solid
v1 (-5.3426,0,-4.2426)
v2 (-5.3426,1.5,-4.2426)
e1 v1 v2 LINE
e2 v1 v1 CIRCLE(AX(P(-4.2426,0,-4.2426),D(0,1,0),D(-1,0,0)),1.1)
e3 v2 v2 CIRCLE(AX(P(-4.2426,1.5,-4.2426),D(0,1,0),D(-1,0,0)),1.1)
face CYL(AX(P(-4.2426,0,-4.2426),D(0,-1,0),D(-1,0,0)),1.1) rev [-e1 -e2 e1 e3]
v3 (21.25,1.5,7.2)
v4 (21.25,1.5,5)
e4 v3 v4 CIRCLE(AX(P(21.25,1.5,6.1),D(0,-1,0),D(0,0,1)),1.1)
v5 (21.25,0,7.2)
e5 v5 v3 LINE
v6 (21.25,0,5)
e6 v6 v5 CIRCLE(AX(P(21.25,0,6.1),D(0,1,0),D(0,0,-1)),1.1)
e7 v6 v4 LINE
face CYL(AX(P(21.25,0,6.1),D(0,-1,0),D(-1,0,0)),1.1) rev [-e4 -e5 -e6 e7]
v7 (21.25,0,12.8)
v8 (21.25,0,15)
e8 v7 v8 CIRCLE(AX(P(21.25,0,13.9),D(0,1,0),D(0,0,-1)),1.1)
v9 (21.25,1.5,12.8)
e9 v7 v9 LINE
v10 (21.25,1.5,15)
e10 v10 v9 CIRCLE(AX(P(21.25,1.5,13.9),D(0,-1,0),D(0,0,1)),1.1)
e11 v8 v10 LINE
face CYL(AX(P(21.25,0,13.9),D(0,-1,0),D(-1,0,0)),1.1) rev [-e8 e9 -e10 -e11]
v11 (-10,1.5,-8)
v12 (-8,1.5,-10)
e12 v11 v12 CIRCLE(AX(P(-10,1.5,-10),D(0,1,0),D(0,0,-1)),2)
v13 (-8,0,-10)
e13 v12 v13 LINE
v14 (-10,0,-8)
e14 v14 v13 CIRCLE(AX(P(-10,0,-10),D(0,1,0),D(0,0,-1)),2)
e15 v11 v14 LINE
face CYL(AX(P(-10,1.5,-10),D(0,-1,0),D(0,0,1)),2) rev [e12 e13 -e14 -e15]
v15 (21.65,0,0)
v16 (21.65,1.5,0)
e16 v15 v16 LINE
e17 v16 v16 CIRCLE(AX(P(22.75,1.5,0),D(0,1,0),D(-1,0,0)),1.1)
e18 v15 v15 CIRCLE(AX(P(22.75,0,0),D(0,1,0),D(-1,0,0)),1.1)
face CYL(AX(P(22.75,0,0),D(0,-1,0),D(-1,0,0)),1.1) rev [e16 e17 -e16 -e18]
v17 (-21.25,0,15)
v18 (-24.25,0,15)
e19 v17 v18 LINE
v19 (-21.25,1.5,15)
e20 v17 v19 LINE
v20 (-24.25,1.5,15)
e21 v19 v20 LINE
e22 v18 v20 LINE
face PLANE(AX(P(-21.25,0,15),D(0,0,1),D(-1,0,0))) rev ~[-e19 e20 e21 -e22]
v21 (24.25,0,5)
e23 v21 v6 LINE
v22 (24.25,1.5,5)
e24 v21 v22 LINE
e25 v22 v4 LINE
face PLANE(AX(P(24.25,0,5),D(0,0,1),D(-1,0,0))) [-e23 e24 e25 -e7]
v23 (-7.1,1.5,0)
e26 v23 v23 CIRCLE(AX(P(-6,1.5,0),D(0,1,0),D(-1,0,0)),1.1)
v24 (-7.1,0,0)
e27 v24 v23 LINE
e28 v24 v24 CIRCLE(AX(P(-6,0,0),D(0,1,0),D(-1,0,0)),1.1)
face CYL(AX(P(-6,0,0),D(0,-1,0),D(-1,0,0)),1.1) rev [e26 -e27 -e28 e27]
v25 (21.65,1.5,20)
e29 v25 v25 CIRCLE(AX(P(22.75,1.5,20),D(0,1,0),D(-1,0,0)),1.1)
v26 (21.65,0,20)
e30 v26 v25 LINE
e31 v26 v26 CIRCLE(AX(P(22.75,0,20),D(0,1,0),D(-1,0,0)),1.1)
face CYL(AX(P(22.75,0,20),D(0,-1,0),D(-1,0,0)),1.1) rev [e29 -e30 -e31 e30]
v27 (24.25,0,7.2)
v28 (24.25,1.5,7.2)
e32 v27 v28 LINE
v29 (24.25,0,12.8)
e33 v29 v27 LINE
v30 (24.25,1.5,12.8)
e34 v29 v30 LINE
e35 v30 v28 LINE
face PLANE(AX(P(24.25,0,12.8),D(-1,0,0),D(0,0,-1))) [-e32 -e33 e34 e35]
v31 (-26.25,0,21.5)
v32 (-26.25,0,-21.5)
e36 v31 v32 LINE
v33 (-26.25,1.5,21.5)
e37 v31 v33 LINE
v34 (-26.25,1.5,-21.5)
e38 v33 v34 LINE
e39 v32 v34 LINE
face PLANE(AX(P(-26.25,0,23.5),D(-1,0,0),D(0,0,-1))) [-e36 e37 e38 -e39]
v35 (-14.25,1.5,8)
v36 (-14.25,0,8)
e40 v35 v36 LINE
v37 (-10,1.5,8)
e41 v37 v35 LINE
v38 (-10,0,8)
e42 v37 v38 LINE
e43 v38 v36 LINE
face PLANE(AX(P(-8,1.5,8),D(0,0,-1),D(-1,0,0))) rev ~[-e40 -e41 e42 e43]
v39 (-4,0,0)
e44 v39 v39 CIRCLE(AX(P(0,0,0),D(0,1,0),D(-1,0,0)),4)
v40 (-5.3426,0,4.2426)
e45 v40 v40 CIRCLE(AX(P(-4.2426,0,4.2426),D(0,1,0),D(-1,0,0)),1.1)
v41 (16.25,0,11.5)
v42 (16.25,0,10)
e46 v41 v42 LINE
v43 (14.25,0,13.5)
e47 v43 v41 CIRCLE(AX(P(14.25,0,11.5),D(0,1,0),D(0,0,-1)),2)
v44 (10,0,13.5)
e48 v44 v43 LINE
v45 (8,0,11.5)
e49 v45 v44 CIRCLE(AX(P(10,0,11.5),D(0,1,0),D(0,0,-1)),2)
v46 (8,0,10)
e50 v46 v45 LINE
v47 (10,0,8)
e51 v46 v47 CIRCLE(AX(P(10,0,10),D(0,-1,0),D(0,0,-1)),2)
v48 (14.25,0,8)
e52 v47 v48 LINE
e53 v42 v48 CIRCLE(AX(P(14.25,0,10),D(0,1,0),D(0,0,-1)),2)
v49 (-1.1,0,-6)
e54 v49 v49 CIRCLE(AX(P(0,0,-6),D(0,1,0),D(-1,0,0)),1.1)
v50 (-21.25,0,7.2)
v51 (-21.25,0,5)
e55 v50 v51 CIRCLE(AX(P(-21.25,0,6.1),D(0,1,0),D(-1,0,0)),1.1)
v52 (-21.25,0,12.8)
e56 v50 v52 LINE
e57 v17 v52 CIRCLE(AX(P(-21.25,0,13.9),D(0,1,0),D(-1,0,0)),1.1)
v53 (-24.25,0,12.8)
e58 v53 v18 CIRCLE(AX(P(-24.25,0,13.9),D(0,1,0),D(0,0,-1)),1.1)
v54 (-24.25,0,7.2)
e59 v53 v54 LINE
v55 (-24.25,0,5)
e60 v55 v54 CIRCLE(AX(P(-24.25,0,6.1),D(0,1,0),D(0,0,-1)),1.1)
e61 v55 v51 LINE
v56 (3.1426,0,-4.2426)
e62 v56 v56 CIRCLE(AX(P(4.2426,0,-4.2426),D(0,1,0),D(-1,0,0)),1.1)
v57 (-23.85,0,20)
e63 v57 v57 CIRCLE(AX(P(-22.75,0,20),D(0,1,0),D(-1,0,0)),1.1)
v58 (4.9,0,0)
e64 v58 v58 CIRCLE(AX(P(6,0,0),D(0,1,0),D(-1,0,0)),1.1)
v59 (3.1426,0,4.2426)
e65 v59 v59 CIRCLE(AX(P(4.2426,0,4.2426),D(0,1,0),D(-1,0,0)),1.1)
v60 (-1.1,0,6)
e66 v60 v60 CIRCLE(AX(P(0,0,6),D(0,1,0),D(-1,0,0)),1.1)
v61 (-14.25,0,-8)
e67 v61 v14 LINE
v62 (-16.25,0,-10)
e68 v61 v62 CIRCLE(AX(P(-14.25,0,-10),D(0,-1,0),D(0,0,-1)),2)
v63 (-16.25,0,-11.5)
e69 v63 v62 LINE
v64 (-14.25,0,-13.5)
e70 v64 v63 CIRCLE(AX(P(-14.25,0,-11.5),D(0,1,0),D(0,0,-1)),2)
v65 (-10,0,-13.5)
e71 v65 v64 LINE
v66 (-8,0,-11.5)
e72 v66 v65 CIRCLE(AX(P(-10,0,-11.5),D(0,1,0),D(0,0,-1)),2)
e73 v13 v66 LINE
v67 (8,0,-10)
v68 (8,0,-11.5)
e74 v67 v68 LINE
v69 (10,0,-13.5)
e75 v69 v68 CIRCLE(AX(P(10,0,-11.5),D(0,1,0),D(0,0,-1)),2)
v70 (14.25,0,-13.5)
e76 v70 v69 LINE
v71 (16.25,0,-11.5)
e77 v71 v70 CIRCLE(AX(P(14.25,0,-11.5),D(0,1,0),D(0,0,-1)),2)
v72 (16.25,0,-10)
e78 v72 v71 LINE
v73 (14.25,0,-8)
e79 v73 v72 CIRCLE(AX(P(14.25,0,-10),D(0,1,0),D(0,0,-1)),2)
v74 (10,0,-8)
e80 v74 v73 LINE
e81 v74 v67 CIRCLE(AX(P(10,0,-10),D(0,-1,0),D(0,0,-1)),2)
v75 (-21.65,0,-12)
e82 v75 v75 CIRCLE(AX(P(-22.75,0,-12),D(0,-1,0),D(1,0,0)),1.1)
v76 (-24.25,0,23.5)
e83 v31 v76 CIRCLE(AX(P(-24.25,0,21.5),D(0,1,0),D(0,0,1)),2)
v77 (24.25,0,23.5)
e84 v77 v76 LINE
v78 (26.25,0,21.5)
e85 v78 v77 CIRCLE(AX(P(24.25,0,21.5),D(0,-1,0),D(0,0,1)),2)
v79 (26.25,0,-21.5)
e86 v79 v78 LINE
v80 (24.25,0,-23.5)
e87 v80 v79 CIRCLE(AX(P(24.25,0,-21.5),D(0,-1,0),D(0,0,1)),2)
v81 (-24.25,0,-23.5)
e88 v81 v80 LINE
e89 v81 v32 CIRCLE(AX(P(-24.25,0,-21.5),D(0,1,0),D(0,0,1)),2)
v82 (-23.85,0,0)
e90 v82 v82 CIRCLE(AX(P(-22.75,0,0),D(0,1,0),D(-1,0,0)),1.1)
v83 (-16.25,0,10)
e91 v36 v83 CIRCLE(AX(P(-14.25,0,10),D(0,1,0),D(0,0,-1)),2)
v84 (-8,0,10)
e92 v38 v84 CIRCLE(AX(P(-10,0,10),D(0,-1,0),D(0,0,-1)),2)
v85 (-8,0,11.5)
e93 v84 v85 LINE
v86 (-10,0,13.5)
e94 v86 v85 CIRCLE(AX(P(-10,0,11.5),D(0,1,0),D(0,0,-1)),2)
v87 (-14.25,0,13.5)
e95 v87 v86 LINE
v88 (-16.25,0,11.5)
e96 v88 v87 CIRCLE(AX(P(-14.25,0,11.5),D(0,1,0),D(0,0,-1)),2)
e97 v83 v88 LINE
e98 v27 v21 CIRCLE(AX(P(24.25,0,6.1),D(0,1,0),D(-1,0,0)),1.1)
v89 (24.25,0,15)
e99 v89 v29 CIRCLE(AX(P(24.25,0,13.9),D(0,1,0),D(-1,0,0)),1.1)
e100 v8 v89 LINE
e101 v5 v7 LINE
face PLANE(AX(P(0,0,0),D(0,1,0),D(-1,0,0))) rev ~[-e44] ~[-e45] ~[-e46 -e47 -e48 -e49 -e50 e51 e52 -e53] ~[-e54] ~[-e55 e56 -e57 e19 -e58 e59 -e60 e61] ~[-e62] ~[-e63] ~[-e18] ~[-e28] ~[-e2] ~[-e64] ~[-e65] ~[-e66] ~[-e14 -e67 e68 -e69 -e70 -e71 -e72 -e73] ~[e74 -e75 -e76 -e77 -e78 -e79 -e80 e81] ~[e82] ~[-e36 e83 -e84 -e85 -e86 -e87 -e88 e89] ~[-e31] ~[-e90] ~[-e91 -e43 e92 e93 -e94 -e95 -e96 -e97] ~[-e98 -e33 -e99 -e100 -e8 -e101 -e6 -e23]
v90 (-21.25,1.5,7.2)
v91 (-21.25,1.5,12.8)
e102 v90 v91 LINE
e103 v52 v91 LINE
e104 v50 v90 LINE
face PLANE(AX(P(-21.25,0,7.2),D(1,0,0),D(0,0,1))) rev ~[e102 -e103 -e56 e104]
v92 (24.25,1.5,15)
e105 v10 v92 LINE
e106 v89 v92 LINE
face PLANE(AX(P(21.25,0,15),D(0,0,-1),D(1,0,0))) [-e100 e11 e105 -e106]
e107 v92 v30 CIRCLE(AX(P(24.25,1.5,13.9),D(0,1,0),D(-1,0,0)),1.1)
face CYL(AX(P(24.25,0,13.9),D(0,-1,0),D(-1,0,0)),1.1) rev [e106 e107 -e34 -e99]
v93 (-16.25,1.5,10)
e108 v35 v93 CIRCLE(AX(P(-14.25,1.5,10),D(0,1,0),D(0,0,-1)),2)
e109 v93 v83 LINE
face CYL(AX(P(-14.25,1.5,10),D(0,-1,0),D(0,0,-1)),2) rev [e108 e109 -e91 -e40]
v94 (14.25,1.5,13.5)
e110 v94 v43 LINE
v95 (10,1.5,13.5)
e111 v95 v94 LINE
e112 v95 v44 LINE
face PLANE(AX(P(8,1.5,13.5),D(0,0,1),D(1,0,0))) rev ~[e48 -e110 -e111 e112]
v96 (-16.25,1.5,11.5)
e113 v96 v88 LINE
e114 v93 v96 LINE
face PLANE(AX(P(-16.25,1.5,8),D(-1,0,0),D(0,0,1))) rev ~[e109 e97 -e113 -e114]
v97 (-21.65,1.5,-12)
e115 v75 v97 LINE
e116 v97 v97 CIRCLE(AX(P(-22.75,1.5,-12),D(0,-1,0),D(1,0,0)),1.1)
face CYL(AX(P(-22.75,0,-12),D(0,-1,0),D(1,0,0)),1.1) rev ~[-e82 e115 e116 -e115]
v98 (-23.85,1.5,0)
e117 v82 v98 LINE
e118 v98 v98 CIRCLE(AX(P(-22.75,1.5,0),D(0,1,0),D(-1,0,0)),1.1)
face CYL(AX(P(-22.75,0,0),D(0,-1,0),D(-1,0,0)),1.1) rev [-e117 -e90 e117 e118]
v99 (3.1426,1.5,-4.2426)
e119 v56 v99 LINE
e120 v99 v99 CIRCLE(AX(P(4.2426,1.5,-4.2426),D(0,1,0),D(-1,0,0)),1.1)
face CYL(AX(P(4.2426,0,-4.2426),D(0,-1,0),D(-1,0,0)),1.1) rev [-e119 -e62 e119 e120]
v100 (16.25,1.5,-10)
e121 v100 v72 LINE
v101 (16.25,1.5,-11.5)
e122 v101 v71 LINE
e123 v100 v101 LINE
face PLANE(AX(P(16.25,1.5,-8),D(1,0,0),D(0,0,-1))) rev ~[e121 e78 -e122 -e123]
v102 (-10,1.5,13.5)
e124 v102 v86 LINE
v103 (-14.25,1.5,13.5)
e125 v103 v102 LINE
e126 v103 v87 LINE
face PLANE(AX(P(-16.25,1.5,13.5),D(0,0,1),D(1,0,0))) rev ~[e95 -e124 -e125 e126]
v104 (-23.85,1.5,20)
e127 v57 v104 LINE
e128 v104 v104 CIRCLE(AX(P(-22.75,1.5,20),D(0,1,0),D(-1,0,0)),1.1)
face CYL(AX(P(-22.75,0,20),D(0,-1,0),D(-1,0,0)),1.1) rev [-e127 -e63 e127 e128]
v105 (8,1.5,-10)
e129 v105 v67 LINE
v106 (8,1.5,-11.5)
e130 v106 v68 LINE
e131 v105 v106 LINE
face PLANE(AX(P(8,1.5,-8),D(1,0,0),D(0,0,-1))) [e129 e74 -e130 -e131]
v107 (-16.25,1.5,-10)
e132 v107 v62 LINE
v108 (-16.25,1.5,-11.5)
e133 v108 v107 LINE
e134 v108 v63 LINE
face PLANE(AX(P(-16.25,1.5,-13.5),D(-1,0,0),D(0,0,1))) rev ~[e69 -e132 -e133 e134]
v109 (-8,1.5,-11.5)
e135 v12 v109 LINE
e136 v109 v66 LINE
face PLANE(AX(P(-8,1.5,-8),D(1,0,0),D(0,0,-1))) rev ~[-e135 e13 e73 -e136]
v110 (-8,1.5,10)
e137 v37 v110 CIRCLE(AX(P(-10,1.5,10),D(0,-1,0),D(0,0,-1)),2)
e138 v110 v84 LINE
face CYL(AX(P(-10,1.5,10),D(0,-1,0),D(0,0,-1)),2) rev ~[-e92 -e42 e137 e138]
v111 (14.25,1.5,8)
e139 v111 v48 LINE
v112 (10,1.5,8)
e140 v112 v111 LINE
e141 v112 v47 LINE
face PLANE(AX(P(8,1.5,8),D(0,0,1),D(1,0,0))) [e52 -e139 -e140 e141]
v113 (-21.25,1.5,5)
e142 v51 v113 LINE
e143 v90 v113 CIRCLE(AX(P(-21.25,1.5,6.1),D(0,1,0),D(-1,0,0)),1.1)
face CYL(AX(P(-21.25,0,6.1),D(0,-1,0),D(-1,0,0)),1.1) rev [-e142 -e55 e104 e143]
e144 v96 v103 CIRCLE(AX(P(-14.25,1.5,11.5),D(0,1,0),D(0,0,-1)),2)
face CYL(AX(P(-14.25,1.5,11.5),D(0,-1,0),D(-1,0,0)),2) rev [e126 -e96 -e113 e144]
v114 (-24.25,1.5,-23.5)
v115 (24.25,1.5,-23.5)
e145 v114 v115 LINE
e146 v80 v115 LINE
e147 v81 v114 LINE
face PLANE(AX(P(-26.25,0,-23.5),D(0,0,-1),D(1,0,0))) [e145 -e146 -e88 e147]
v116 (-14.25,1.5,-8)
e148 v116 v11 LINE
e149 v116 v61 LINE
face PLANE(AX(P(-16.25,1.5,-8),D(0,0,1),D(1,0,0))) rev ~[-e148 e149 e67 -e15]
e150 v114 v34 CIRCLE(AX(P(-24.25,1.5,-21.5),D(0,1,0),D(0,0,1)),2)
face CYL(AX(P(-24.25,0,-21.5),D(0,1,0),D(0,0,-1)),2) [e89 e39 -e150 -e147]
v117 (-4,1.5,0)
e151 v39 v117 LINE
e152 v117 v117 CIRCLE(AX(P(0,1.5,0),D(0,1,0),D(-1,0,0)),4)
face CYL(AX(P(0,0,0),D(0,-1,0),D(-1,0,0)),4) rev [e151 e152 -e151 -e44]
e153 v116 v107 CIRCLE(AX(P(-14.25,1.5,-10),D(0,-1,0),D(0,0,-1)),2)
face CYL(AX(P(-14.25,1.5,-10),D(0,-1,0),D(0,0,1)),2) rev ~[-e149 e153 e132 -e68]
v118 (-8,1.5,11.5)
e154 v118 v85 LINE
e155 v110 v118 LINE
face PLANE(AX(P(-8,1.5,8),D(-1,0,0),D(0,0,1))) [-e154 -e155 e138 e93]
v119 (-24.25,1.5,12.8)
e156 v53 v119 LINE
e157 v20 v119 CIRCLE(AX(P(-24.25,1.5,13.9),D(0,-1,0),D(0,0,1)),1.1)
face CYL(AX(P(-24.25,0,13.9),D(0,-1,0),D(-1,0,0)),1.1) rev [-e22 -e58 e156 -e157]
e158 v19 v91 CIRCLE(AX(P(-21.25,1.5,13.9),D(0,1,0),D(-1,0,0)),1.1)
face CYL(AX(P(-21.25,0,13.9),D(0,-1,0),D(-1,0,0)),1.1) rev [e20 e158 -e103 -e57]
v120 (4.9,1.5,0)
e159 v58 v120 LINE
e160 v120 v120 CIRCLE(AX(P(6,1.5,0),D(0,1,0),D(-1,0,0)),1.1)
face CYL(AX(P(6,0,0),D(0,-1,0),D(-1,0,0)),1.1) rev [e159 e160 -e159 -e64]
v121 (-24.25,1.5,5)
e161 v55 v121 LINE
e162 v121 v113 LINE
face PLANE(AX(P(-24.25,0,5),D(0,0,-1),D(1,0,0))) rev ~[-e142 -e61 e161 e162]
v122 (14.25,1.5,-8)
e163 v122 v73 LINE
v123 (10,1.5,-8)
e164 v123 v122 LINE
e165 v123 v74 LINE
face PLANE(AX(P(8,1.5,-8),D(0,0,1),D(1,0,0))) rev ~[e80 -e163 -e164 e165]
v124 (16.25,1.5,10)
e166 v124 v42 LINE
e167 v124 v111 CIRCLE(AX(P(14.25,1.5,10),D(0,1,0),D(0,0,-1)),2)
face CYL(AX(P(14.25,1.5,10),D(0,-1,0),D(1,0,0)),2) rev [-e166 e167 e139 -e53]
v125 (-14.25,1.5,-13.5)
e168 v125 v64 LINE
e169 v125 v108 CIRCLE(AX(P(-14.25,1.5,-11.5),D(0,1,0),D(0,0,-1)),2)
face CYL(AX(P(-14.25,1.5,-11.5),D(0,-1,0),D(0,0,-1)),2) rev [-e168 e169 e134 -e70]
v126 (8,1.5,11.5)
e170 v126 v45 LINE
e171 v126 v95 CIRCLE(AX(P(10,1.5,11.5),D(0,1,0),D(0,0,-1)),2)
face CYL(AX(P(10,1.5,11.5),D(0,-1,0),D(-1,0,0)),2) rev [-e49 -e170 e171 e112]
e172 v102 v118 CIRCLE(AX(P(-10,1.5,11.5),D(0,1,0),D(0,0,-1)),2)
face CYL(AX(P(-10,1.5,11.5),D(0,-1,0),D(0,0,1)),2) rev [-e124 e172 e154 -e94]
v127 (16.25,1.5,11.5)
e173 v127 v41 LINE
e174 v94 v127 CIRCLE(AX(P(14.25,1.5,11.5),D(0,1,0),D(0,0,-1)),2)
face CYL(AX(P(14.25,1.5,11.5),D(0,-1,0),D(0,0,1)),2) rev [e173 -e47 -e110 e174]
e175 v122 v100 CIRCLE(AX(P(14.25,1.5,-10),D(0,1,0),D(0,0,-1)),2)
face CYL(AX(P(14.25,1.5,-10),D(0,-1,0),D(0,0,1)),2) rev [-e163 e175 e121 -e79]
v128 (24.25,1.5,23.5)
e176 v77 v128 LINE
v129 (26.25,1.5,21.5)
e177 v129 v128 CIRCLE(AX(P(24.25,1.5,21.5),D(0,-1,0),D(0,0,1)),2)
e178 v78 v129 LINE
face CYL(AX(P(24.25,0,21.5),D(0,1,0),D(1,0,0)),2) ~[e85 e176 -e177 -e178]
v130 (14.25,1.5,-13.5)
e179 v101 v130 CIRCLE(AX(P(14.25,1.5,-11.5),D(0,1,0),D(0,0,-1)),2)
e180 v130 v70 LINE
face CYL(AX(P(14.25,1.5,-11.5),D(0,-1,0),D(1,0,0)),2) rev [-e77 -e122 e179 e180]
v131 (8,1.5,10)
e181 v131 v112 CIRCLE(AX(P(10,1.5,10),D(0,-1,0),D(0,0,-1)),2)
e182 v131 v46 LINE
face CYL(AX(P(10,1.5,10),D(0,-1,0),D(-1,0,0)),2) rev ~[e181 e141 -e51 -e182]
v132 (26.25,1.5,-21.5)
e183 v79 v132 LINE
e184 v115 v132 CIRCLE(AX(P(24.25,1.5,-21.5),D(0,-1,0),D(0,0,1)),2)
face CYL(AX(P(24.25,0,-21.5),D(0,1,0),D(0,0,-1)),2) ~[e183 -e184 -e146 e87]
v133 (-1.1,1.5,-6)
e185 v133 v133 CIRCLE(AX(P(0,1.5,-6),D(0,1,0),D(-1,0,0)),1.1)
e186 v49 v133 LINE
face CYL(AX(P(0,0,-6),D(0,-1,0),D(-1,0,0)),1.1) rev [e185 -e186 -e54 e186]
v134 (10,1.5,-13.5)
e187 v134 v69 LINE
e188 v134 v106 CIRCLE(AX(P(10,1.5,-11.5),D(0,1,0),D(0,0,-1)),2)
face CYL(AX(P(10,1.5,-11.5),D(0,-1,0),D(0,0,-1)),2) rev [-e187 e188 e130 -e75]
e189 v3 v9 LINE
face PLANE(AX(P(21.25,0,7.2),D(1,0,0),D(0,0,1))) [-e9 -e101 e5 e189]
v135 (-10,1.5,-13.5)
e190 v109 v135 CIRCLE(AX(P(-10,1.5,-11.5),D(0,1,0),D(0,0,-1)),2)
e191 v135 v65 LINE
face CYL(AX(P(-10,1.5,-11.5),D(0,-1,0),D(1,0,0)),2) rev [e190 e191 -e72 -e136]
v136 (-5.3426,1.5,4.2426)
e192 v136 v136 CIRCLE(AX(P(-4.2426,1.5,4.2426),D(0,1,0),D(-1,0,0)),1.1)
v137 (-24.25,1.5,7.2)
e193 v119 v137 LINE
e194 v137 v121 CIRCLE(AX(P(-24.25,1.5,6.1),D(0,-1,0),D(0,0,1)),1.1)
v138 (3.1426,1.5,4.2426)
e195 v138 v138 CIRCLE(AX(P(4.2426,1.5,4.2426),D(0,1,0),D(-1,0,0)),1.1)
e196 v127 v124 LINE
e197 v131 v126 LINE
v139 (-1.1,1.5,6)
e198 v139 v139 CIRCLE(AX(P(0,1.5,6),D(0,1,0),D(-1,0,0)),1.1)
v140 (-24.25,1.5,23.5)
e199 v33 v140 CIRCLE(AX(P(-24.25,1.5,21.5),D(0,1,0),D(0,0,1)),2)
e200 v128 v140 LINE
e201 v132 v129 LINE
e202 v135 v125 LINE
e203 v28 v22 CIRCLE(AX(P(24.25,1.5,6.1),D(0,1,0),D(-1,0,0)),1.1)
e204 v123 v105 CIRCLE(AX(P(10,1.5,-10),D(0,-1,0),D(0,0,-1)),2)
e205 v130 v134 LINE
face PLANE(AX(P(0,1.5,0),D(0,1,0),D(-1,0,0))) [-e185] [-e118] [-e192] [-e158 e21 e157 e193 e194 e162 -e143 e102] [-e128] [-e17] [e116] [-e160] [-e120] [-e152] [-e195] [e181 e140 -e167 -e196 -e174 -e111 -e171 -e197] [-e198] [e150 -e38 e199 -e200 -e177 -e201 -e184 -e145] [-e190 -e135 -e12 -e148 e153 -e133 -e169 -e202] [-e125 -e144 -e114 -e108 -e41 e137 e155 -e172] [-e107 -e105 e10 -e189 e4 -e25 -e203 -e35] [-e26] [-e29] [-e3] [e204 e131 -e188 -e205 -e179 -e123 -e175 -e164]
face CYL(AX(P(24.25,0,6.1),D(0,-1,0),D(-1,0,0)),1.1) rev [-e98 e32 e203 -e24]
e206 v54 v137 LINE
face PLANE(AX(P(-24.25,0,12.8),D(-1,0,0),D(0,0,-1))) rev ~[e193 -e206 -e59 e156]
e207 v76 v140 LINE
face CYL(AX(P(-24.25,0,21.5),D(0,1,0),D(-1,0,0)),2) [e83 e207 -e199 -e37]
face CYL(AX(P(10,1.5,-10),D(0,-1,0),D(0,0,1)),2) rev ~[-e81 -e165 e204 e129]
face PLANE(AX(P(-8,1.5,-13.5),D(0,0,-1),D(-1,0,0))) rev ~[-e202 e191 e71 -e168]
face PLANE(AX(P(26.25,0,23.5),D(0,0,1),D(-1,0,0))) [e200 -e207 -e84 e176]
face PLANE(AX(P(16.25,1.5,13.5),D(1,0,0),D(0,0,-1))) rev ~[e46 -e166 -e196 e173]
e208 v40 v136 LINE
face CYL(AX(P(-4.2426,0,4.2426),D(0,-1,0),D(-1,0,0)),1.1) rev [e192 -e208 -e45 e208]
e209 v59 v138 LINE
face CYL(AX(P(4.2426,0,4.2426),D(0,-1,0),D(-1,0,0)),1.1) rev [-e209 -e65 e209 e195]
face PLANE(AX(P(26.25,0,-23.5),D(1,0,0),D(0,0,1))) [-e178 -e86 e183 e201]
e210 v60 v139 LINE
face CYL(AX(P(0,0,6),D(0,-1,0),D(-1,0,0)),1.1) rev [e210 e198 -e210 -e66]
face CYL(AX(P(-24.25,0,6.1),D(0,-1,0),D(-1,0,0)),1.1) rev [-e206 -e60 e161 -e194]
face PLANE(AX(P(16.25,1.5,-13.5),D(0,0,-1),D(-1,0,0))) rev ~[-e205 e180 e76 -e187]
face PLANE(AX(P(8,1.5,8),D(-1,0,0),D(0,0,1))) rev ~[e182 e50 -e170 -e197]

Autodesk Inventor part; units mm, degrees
ref_plane "YZ Plane" through (0, 0, 0) normal (1, 0, 0) x (0, 1, 0)
ref_plane "XZ Plane" through (0, 0, 0) normal (0, 1, 0) x (-1, 0, 0)
ref_plane "XY Plane" through (0, 0, 0) normal (0, 0, 1) x (1, 0, 0)
sketch "スケッチ1" plane through (0, 0, 0) normal (0, 1, 0) x (-1, 0, 0)
  circle A0 centre (0, 0) radius 4
  circle A1 centre (0, 0) radius 8
  circle A2 centre (0, 0) radius 6 construction
  circle A3 centre (0, -6) radius 1.1
  circle A4 centre (4.2426, -4.2426) radius 1.1
  circle A5 centre (6, 0) radius 1.1
  circle A6 centre (4.2426, 4.2426) radius 1.1
  circle A7 centre (0, 6) radius 1.1
  circle A8 centre (-4.2426, 4.2426) radius 1.1
  circle A9 centre (-6, 0) radius 1.1
  circle A10 centre (-4.2426, -4.2426) radius 1.1
  line L0 (26.25, -23.5) -> (-26.25, -23.5)
  line L1 (-26.25, -23.5) -> (-26.25, 23.5)
  line L2 (-26.25, 23.5) -> (26.25, 23.5)
  line L3 (26.25, 23.5) -> (26.25, -23.5)
  line L4 (26.25, -23.5) -> (-26.25, 23.5) construction
  line L5 (-26.25, -23.5) -> (26.25, 23.5) construction
  line L6 (24.25, 5) -> (21.25, 5)
  line L7 (21.25, 5) -> (21.25, 15)
  line L8 (21.25, 15) -> (24.25, 15)
  line L9 (24.25, 15) -> (24.25, 5)
  circle A11 centre (24.25, 6.1) radius 1.1
  circle A12 centre (21.25, 6.1) radius 1.1
  line L10 (0, 0) -> (0, -23.5) construction
  circle A13 centre (24.25, 13.9) radius 1.1
  circle A14 centre (21.25, 13.9) radius 1.1
  line L11 (-24.25, 5) -> (-21.25, 5)
  line L12 (-21.25, 5) -> (-21.25, 15)
  line L13 (-21.25, 15) -> (-24.25, 15)
  line L14 (-24.25, 15) -> (-24.25, 5)
  circle A15 centre (-24.25, 6.1) radius 1.1
  circle A16 centre (-21.25, 6.1) radius 1.1
  circle A17 centre (-24.25, 13.9) radius 1.1
  circle A18 centre (-21.25, 13.9) radius 1.1
  circle A19 centre (22.75, 0) radius 1.1
  circle A20 centre (22.75, 20) radius 1.1
  circle A21 centre (-22.75, 0) radius 1.1
  circle A22 centre (-22.75, 20) radius 1.1
  circle A23 centre (22.75, 20) radius 3.5 construction
  point P0 (21.25, 10)
  point P1 (-21.25, 10)
  point P2 (22.75, 5)
  point P3 (-21.25, 12.8)
  point P4 (-21.25, 7.2)
  point P5 (-24.25, 7.2)
  point P6 (-24.25, 12.8)
  point P7 (-24.25, 15)
  point P8 (21.25, 12.8)
  point P9 (21.25, 15)
  point P10 (24.25, 15)
  point P11 (24.25, 12.8)
  point P12 (24.25, 7.2)
  point P13 (21.25, 7.2)
  point P14 (22.75, 15)
  dimension "d2" = 12
  dimension "d10" = 2.2
  dimension "d0" = 8
  dimension "d1" = 16
  dimension "d3" = 2.2
  dimension "d6" = 360
  dimension "d8" = 3
  dimension "d9" = 10
  dimension "d11" = 42.5
  dimension "d12" = 2.2
  dimension "d13" = 5
  dimension "d17" = 5
  dimension "d18" = 7
extrude "押し出し1" add sketch "スケッチ1" along normal blind 1.5 contours A1 | L0 L1 L2 L3
sketch "スケッチ2" plane through (0, 0, 0) normal (0, -1, 0) x (1, 0, 0)
  circle A0 centre (-22.75, -12) radius 1.1
  circle A1 centre (-22.75, 0) radius 1.1 projected
  point P0 (0, 0)
  dimension "d19" = 2.2
  dimension "d20" = 12
extrude "押し出し2" cut sketch "スケッチ2" against normal through all contours A0
fillet "フィレット1" radius 2 4 edges at (-26.25, 0.75, -23.5) (26.25, 0.75, -23.5) (26.25, 0.75, 23.5) (-26.25, 0.75, 23.5)
sketch "スケッチ3" plane through (0, 1.5, 0) normal (0, 1, 0) x (1, 0, 0)
  arc A0 (-26.25, -21.5) -> (-24.25, -23.5) centre (-24.25, -21.5) ccw projected
  line L0 (-24.25, -23.5) -> (24.25, -23.5) projected
  arc A1 (24.25, -23.5) -> (26.25, -21.5) centre (24.25, -21.5) ccw projected
  line L1 (26.25, -21.5) -> (26.25, 21.5) projected
  arc A2 (26.25, 21.5) -> (24.25, 23.5) centre (24.25, 21.5) ccw projected
  line L2 (24.25, 23.5) -> (-24.25, 23.5) projected
  arc A3 (-24.25, 23.5) -> (-26.25, 21.5) centre (-24.25, 21.5) ccw projected
  line L3 (-26.25, 21.5) -> (-26.25, -21.5) projected
  circle A4 centre (-22.75, 12) radius 1.1 projected
  circle A5 centre (22.75, -20) radius 1.1 projected
  circle A6 centre (-22.75, -20) radius 1.1 projected
  circle A7 centre (-22.75, 0) radius 1.1 projected
  line L4 (21.25, -12.8) -> (21.25, -7.2) projected
  arc A8 (21.25, -5) -> (21.25, -7.2) centre (21.25, -6.1) ccw projected
  line L5 (21.25, -5) -> (24.25, -5) projected
  arc A9 (24.25, -7.2) -> (24.25, -5) centre (24.25, -6.1) ccw projected
  line L6 (24.25, -7.2) -> (24.25, -12.8) projected
  arc A10 (24.25, -15) -> (24.25, -12.8) centre (24.25, -13.9) ccw projected
  line L7 (24.25, -15) -> (21.25, -15) projected
  arc A11 (21.25, -12.8) -> (21.25, -15) centre (21.25, -13.9) ccw projected
  arc A12 (-21.25, -15) -> (-21.25, -12.8) centre (-21.25, -13.9) ccw projected
  line L8 (-21.25, -15) -> (-24.25, -15) projected
  arc A13 (-24.25, -12.8) -> (-24.25, -15) centre (-24.25, -13.9) ccw projected
  line L9 (-24.25, -12.8) -> (-24.25, -7.2) projected
  arc A14 (-24.25, -5) -> (-24.25, -7.2) centre (-24.25, -6.1) ccw projected
  line L10 (-24.25, -5) -> (-21.25, -5) projected
  arc A15 (-21.25, -7.2) -> (-21.25, -5) centre (-21.25, -6.1) ccw projected
  line L11 (-21.25, -7.2) -> (-21.25, -12.8) projected
  circle A16 centre (6, 0) radius 1.1 projected
  circle A17 centre (0, -6) radius 1.1 projected
  circle A18 centre (-6, 0) radius 1.1 projected
  circle A19 centre (0, 6) radius 1.1 projected
  circle A20 centre (22.75, 0) radius 1.1 projected
  circle A21 centre (4.2426, 4.2426) radius 1.1 projected
  circle A22 centre (4.2426, -4.2426) radius 1.1 projected
  circle A23 centre (-4.2426, -4.2426) radius 1.1 projected
  circle A24 centre (-4.2426, 4.2426) radius 1.1 projected
  circle A25 centre (0, 0) radius 4 projected
  circle A26 centre (0, 0) radius 8
  line L12 (-16.25, -13.5) -> (16.25, -13.5)
  line L13 (16.25, -13.5) -> (16.25, 13.5)
  line L14 (16.25, 13.5) -> (-16.25, 13.5)
  line L15 (-16.25, 13.5) -> (-16.25, -13.5)
  line L16 (-8, 0) -> (-8, -13.5)
  line L17 (8, 0) -> (8, -13.5)
  line L18 (-8, 0) -> (-8, 13.5)
  line L19 (8, 0) -> (8, 13.5)
  line L20 (0, -8) -> (-16.25, -8)
  line L21 (-16.25, 8) -> (0, 8)
  line L22 (0, 8) -> (16.25, 8)
  line L23 (0, -8) -> (16.25, -8)
  point P0 (-8, 8)
  point P1 (8, 8)
  point P2 (8, -8)
  point P3 (-8, -8)
  dimension "d24" = 16
  dimension "d25" = 10
extrude "押し出し3" cut sketch "スケッチ3" against normal through all contours L23 L13 L12 L17 | L19 L14 L13 L22 | L21 L15 L14 L18 | L16 L12 L15 L20
fillet "フィレット2" radius 2 16 edges at (-16.25, 0.75, 8) (-16.25, 0.75, 13.5) (-8, 0.75, 13.5) (-8, 0.75, 8) (8, 0.75, 13.5) (16.25, 0.75, 13.5) (16.25, 0.75, 8) (8, 0.75, 8) (16.25, 0.75, -8) (16.25, 0.75, -13.5) (8, 0.75, -13.5) (8, 0.75, -8) (-8, 0.75, -8) (-16.25, 0.75, -13.5) (-16.25, 0.75, -8) (-8, 0.75, -13.5)
equation "\"d17\" = d13"
properties part number "kosi_v3_1.5" material "アルミニウム 2014-T4"
